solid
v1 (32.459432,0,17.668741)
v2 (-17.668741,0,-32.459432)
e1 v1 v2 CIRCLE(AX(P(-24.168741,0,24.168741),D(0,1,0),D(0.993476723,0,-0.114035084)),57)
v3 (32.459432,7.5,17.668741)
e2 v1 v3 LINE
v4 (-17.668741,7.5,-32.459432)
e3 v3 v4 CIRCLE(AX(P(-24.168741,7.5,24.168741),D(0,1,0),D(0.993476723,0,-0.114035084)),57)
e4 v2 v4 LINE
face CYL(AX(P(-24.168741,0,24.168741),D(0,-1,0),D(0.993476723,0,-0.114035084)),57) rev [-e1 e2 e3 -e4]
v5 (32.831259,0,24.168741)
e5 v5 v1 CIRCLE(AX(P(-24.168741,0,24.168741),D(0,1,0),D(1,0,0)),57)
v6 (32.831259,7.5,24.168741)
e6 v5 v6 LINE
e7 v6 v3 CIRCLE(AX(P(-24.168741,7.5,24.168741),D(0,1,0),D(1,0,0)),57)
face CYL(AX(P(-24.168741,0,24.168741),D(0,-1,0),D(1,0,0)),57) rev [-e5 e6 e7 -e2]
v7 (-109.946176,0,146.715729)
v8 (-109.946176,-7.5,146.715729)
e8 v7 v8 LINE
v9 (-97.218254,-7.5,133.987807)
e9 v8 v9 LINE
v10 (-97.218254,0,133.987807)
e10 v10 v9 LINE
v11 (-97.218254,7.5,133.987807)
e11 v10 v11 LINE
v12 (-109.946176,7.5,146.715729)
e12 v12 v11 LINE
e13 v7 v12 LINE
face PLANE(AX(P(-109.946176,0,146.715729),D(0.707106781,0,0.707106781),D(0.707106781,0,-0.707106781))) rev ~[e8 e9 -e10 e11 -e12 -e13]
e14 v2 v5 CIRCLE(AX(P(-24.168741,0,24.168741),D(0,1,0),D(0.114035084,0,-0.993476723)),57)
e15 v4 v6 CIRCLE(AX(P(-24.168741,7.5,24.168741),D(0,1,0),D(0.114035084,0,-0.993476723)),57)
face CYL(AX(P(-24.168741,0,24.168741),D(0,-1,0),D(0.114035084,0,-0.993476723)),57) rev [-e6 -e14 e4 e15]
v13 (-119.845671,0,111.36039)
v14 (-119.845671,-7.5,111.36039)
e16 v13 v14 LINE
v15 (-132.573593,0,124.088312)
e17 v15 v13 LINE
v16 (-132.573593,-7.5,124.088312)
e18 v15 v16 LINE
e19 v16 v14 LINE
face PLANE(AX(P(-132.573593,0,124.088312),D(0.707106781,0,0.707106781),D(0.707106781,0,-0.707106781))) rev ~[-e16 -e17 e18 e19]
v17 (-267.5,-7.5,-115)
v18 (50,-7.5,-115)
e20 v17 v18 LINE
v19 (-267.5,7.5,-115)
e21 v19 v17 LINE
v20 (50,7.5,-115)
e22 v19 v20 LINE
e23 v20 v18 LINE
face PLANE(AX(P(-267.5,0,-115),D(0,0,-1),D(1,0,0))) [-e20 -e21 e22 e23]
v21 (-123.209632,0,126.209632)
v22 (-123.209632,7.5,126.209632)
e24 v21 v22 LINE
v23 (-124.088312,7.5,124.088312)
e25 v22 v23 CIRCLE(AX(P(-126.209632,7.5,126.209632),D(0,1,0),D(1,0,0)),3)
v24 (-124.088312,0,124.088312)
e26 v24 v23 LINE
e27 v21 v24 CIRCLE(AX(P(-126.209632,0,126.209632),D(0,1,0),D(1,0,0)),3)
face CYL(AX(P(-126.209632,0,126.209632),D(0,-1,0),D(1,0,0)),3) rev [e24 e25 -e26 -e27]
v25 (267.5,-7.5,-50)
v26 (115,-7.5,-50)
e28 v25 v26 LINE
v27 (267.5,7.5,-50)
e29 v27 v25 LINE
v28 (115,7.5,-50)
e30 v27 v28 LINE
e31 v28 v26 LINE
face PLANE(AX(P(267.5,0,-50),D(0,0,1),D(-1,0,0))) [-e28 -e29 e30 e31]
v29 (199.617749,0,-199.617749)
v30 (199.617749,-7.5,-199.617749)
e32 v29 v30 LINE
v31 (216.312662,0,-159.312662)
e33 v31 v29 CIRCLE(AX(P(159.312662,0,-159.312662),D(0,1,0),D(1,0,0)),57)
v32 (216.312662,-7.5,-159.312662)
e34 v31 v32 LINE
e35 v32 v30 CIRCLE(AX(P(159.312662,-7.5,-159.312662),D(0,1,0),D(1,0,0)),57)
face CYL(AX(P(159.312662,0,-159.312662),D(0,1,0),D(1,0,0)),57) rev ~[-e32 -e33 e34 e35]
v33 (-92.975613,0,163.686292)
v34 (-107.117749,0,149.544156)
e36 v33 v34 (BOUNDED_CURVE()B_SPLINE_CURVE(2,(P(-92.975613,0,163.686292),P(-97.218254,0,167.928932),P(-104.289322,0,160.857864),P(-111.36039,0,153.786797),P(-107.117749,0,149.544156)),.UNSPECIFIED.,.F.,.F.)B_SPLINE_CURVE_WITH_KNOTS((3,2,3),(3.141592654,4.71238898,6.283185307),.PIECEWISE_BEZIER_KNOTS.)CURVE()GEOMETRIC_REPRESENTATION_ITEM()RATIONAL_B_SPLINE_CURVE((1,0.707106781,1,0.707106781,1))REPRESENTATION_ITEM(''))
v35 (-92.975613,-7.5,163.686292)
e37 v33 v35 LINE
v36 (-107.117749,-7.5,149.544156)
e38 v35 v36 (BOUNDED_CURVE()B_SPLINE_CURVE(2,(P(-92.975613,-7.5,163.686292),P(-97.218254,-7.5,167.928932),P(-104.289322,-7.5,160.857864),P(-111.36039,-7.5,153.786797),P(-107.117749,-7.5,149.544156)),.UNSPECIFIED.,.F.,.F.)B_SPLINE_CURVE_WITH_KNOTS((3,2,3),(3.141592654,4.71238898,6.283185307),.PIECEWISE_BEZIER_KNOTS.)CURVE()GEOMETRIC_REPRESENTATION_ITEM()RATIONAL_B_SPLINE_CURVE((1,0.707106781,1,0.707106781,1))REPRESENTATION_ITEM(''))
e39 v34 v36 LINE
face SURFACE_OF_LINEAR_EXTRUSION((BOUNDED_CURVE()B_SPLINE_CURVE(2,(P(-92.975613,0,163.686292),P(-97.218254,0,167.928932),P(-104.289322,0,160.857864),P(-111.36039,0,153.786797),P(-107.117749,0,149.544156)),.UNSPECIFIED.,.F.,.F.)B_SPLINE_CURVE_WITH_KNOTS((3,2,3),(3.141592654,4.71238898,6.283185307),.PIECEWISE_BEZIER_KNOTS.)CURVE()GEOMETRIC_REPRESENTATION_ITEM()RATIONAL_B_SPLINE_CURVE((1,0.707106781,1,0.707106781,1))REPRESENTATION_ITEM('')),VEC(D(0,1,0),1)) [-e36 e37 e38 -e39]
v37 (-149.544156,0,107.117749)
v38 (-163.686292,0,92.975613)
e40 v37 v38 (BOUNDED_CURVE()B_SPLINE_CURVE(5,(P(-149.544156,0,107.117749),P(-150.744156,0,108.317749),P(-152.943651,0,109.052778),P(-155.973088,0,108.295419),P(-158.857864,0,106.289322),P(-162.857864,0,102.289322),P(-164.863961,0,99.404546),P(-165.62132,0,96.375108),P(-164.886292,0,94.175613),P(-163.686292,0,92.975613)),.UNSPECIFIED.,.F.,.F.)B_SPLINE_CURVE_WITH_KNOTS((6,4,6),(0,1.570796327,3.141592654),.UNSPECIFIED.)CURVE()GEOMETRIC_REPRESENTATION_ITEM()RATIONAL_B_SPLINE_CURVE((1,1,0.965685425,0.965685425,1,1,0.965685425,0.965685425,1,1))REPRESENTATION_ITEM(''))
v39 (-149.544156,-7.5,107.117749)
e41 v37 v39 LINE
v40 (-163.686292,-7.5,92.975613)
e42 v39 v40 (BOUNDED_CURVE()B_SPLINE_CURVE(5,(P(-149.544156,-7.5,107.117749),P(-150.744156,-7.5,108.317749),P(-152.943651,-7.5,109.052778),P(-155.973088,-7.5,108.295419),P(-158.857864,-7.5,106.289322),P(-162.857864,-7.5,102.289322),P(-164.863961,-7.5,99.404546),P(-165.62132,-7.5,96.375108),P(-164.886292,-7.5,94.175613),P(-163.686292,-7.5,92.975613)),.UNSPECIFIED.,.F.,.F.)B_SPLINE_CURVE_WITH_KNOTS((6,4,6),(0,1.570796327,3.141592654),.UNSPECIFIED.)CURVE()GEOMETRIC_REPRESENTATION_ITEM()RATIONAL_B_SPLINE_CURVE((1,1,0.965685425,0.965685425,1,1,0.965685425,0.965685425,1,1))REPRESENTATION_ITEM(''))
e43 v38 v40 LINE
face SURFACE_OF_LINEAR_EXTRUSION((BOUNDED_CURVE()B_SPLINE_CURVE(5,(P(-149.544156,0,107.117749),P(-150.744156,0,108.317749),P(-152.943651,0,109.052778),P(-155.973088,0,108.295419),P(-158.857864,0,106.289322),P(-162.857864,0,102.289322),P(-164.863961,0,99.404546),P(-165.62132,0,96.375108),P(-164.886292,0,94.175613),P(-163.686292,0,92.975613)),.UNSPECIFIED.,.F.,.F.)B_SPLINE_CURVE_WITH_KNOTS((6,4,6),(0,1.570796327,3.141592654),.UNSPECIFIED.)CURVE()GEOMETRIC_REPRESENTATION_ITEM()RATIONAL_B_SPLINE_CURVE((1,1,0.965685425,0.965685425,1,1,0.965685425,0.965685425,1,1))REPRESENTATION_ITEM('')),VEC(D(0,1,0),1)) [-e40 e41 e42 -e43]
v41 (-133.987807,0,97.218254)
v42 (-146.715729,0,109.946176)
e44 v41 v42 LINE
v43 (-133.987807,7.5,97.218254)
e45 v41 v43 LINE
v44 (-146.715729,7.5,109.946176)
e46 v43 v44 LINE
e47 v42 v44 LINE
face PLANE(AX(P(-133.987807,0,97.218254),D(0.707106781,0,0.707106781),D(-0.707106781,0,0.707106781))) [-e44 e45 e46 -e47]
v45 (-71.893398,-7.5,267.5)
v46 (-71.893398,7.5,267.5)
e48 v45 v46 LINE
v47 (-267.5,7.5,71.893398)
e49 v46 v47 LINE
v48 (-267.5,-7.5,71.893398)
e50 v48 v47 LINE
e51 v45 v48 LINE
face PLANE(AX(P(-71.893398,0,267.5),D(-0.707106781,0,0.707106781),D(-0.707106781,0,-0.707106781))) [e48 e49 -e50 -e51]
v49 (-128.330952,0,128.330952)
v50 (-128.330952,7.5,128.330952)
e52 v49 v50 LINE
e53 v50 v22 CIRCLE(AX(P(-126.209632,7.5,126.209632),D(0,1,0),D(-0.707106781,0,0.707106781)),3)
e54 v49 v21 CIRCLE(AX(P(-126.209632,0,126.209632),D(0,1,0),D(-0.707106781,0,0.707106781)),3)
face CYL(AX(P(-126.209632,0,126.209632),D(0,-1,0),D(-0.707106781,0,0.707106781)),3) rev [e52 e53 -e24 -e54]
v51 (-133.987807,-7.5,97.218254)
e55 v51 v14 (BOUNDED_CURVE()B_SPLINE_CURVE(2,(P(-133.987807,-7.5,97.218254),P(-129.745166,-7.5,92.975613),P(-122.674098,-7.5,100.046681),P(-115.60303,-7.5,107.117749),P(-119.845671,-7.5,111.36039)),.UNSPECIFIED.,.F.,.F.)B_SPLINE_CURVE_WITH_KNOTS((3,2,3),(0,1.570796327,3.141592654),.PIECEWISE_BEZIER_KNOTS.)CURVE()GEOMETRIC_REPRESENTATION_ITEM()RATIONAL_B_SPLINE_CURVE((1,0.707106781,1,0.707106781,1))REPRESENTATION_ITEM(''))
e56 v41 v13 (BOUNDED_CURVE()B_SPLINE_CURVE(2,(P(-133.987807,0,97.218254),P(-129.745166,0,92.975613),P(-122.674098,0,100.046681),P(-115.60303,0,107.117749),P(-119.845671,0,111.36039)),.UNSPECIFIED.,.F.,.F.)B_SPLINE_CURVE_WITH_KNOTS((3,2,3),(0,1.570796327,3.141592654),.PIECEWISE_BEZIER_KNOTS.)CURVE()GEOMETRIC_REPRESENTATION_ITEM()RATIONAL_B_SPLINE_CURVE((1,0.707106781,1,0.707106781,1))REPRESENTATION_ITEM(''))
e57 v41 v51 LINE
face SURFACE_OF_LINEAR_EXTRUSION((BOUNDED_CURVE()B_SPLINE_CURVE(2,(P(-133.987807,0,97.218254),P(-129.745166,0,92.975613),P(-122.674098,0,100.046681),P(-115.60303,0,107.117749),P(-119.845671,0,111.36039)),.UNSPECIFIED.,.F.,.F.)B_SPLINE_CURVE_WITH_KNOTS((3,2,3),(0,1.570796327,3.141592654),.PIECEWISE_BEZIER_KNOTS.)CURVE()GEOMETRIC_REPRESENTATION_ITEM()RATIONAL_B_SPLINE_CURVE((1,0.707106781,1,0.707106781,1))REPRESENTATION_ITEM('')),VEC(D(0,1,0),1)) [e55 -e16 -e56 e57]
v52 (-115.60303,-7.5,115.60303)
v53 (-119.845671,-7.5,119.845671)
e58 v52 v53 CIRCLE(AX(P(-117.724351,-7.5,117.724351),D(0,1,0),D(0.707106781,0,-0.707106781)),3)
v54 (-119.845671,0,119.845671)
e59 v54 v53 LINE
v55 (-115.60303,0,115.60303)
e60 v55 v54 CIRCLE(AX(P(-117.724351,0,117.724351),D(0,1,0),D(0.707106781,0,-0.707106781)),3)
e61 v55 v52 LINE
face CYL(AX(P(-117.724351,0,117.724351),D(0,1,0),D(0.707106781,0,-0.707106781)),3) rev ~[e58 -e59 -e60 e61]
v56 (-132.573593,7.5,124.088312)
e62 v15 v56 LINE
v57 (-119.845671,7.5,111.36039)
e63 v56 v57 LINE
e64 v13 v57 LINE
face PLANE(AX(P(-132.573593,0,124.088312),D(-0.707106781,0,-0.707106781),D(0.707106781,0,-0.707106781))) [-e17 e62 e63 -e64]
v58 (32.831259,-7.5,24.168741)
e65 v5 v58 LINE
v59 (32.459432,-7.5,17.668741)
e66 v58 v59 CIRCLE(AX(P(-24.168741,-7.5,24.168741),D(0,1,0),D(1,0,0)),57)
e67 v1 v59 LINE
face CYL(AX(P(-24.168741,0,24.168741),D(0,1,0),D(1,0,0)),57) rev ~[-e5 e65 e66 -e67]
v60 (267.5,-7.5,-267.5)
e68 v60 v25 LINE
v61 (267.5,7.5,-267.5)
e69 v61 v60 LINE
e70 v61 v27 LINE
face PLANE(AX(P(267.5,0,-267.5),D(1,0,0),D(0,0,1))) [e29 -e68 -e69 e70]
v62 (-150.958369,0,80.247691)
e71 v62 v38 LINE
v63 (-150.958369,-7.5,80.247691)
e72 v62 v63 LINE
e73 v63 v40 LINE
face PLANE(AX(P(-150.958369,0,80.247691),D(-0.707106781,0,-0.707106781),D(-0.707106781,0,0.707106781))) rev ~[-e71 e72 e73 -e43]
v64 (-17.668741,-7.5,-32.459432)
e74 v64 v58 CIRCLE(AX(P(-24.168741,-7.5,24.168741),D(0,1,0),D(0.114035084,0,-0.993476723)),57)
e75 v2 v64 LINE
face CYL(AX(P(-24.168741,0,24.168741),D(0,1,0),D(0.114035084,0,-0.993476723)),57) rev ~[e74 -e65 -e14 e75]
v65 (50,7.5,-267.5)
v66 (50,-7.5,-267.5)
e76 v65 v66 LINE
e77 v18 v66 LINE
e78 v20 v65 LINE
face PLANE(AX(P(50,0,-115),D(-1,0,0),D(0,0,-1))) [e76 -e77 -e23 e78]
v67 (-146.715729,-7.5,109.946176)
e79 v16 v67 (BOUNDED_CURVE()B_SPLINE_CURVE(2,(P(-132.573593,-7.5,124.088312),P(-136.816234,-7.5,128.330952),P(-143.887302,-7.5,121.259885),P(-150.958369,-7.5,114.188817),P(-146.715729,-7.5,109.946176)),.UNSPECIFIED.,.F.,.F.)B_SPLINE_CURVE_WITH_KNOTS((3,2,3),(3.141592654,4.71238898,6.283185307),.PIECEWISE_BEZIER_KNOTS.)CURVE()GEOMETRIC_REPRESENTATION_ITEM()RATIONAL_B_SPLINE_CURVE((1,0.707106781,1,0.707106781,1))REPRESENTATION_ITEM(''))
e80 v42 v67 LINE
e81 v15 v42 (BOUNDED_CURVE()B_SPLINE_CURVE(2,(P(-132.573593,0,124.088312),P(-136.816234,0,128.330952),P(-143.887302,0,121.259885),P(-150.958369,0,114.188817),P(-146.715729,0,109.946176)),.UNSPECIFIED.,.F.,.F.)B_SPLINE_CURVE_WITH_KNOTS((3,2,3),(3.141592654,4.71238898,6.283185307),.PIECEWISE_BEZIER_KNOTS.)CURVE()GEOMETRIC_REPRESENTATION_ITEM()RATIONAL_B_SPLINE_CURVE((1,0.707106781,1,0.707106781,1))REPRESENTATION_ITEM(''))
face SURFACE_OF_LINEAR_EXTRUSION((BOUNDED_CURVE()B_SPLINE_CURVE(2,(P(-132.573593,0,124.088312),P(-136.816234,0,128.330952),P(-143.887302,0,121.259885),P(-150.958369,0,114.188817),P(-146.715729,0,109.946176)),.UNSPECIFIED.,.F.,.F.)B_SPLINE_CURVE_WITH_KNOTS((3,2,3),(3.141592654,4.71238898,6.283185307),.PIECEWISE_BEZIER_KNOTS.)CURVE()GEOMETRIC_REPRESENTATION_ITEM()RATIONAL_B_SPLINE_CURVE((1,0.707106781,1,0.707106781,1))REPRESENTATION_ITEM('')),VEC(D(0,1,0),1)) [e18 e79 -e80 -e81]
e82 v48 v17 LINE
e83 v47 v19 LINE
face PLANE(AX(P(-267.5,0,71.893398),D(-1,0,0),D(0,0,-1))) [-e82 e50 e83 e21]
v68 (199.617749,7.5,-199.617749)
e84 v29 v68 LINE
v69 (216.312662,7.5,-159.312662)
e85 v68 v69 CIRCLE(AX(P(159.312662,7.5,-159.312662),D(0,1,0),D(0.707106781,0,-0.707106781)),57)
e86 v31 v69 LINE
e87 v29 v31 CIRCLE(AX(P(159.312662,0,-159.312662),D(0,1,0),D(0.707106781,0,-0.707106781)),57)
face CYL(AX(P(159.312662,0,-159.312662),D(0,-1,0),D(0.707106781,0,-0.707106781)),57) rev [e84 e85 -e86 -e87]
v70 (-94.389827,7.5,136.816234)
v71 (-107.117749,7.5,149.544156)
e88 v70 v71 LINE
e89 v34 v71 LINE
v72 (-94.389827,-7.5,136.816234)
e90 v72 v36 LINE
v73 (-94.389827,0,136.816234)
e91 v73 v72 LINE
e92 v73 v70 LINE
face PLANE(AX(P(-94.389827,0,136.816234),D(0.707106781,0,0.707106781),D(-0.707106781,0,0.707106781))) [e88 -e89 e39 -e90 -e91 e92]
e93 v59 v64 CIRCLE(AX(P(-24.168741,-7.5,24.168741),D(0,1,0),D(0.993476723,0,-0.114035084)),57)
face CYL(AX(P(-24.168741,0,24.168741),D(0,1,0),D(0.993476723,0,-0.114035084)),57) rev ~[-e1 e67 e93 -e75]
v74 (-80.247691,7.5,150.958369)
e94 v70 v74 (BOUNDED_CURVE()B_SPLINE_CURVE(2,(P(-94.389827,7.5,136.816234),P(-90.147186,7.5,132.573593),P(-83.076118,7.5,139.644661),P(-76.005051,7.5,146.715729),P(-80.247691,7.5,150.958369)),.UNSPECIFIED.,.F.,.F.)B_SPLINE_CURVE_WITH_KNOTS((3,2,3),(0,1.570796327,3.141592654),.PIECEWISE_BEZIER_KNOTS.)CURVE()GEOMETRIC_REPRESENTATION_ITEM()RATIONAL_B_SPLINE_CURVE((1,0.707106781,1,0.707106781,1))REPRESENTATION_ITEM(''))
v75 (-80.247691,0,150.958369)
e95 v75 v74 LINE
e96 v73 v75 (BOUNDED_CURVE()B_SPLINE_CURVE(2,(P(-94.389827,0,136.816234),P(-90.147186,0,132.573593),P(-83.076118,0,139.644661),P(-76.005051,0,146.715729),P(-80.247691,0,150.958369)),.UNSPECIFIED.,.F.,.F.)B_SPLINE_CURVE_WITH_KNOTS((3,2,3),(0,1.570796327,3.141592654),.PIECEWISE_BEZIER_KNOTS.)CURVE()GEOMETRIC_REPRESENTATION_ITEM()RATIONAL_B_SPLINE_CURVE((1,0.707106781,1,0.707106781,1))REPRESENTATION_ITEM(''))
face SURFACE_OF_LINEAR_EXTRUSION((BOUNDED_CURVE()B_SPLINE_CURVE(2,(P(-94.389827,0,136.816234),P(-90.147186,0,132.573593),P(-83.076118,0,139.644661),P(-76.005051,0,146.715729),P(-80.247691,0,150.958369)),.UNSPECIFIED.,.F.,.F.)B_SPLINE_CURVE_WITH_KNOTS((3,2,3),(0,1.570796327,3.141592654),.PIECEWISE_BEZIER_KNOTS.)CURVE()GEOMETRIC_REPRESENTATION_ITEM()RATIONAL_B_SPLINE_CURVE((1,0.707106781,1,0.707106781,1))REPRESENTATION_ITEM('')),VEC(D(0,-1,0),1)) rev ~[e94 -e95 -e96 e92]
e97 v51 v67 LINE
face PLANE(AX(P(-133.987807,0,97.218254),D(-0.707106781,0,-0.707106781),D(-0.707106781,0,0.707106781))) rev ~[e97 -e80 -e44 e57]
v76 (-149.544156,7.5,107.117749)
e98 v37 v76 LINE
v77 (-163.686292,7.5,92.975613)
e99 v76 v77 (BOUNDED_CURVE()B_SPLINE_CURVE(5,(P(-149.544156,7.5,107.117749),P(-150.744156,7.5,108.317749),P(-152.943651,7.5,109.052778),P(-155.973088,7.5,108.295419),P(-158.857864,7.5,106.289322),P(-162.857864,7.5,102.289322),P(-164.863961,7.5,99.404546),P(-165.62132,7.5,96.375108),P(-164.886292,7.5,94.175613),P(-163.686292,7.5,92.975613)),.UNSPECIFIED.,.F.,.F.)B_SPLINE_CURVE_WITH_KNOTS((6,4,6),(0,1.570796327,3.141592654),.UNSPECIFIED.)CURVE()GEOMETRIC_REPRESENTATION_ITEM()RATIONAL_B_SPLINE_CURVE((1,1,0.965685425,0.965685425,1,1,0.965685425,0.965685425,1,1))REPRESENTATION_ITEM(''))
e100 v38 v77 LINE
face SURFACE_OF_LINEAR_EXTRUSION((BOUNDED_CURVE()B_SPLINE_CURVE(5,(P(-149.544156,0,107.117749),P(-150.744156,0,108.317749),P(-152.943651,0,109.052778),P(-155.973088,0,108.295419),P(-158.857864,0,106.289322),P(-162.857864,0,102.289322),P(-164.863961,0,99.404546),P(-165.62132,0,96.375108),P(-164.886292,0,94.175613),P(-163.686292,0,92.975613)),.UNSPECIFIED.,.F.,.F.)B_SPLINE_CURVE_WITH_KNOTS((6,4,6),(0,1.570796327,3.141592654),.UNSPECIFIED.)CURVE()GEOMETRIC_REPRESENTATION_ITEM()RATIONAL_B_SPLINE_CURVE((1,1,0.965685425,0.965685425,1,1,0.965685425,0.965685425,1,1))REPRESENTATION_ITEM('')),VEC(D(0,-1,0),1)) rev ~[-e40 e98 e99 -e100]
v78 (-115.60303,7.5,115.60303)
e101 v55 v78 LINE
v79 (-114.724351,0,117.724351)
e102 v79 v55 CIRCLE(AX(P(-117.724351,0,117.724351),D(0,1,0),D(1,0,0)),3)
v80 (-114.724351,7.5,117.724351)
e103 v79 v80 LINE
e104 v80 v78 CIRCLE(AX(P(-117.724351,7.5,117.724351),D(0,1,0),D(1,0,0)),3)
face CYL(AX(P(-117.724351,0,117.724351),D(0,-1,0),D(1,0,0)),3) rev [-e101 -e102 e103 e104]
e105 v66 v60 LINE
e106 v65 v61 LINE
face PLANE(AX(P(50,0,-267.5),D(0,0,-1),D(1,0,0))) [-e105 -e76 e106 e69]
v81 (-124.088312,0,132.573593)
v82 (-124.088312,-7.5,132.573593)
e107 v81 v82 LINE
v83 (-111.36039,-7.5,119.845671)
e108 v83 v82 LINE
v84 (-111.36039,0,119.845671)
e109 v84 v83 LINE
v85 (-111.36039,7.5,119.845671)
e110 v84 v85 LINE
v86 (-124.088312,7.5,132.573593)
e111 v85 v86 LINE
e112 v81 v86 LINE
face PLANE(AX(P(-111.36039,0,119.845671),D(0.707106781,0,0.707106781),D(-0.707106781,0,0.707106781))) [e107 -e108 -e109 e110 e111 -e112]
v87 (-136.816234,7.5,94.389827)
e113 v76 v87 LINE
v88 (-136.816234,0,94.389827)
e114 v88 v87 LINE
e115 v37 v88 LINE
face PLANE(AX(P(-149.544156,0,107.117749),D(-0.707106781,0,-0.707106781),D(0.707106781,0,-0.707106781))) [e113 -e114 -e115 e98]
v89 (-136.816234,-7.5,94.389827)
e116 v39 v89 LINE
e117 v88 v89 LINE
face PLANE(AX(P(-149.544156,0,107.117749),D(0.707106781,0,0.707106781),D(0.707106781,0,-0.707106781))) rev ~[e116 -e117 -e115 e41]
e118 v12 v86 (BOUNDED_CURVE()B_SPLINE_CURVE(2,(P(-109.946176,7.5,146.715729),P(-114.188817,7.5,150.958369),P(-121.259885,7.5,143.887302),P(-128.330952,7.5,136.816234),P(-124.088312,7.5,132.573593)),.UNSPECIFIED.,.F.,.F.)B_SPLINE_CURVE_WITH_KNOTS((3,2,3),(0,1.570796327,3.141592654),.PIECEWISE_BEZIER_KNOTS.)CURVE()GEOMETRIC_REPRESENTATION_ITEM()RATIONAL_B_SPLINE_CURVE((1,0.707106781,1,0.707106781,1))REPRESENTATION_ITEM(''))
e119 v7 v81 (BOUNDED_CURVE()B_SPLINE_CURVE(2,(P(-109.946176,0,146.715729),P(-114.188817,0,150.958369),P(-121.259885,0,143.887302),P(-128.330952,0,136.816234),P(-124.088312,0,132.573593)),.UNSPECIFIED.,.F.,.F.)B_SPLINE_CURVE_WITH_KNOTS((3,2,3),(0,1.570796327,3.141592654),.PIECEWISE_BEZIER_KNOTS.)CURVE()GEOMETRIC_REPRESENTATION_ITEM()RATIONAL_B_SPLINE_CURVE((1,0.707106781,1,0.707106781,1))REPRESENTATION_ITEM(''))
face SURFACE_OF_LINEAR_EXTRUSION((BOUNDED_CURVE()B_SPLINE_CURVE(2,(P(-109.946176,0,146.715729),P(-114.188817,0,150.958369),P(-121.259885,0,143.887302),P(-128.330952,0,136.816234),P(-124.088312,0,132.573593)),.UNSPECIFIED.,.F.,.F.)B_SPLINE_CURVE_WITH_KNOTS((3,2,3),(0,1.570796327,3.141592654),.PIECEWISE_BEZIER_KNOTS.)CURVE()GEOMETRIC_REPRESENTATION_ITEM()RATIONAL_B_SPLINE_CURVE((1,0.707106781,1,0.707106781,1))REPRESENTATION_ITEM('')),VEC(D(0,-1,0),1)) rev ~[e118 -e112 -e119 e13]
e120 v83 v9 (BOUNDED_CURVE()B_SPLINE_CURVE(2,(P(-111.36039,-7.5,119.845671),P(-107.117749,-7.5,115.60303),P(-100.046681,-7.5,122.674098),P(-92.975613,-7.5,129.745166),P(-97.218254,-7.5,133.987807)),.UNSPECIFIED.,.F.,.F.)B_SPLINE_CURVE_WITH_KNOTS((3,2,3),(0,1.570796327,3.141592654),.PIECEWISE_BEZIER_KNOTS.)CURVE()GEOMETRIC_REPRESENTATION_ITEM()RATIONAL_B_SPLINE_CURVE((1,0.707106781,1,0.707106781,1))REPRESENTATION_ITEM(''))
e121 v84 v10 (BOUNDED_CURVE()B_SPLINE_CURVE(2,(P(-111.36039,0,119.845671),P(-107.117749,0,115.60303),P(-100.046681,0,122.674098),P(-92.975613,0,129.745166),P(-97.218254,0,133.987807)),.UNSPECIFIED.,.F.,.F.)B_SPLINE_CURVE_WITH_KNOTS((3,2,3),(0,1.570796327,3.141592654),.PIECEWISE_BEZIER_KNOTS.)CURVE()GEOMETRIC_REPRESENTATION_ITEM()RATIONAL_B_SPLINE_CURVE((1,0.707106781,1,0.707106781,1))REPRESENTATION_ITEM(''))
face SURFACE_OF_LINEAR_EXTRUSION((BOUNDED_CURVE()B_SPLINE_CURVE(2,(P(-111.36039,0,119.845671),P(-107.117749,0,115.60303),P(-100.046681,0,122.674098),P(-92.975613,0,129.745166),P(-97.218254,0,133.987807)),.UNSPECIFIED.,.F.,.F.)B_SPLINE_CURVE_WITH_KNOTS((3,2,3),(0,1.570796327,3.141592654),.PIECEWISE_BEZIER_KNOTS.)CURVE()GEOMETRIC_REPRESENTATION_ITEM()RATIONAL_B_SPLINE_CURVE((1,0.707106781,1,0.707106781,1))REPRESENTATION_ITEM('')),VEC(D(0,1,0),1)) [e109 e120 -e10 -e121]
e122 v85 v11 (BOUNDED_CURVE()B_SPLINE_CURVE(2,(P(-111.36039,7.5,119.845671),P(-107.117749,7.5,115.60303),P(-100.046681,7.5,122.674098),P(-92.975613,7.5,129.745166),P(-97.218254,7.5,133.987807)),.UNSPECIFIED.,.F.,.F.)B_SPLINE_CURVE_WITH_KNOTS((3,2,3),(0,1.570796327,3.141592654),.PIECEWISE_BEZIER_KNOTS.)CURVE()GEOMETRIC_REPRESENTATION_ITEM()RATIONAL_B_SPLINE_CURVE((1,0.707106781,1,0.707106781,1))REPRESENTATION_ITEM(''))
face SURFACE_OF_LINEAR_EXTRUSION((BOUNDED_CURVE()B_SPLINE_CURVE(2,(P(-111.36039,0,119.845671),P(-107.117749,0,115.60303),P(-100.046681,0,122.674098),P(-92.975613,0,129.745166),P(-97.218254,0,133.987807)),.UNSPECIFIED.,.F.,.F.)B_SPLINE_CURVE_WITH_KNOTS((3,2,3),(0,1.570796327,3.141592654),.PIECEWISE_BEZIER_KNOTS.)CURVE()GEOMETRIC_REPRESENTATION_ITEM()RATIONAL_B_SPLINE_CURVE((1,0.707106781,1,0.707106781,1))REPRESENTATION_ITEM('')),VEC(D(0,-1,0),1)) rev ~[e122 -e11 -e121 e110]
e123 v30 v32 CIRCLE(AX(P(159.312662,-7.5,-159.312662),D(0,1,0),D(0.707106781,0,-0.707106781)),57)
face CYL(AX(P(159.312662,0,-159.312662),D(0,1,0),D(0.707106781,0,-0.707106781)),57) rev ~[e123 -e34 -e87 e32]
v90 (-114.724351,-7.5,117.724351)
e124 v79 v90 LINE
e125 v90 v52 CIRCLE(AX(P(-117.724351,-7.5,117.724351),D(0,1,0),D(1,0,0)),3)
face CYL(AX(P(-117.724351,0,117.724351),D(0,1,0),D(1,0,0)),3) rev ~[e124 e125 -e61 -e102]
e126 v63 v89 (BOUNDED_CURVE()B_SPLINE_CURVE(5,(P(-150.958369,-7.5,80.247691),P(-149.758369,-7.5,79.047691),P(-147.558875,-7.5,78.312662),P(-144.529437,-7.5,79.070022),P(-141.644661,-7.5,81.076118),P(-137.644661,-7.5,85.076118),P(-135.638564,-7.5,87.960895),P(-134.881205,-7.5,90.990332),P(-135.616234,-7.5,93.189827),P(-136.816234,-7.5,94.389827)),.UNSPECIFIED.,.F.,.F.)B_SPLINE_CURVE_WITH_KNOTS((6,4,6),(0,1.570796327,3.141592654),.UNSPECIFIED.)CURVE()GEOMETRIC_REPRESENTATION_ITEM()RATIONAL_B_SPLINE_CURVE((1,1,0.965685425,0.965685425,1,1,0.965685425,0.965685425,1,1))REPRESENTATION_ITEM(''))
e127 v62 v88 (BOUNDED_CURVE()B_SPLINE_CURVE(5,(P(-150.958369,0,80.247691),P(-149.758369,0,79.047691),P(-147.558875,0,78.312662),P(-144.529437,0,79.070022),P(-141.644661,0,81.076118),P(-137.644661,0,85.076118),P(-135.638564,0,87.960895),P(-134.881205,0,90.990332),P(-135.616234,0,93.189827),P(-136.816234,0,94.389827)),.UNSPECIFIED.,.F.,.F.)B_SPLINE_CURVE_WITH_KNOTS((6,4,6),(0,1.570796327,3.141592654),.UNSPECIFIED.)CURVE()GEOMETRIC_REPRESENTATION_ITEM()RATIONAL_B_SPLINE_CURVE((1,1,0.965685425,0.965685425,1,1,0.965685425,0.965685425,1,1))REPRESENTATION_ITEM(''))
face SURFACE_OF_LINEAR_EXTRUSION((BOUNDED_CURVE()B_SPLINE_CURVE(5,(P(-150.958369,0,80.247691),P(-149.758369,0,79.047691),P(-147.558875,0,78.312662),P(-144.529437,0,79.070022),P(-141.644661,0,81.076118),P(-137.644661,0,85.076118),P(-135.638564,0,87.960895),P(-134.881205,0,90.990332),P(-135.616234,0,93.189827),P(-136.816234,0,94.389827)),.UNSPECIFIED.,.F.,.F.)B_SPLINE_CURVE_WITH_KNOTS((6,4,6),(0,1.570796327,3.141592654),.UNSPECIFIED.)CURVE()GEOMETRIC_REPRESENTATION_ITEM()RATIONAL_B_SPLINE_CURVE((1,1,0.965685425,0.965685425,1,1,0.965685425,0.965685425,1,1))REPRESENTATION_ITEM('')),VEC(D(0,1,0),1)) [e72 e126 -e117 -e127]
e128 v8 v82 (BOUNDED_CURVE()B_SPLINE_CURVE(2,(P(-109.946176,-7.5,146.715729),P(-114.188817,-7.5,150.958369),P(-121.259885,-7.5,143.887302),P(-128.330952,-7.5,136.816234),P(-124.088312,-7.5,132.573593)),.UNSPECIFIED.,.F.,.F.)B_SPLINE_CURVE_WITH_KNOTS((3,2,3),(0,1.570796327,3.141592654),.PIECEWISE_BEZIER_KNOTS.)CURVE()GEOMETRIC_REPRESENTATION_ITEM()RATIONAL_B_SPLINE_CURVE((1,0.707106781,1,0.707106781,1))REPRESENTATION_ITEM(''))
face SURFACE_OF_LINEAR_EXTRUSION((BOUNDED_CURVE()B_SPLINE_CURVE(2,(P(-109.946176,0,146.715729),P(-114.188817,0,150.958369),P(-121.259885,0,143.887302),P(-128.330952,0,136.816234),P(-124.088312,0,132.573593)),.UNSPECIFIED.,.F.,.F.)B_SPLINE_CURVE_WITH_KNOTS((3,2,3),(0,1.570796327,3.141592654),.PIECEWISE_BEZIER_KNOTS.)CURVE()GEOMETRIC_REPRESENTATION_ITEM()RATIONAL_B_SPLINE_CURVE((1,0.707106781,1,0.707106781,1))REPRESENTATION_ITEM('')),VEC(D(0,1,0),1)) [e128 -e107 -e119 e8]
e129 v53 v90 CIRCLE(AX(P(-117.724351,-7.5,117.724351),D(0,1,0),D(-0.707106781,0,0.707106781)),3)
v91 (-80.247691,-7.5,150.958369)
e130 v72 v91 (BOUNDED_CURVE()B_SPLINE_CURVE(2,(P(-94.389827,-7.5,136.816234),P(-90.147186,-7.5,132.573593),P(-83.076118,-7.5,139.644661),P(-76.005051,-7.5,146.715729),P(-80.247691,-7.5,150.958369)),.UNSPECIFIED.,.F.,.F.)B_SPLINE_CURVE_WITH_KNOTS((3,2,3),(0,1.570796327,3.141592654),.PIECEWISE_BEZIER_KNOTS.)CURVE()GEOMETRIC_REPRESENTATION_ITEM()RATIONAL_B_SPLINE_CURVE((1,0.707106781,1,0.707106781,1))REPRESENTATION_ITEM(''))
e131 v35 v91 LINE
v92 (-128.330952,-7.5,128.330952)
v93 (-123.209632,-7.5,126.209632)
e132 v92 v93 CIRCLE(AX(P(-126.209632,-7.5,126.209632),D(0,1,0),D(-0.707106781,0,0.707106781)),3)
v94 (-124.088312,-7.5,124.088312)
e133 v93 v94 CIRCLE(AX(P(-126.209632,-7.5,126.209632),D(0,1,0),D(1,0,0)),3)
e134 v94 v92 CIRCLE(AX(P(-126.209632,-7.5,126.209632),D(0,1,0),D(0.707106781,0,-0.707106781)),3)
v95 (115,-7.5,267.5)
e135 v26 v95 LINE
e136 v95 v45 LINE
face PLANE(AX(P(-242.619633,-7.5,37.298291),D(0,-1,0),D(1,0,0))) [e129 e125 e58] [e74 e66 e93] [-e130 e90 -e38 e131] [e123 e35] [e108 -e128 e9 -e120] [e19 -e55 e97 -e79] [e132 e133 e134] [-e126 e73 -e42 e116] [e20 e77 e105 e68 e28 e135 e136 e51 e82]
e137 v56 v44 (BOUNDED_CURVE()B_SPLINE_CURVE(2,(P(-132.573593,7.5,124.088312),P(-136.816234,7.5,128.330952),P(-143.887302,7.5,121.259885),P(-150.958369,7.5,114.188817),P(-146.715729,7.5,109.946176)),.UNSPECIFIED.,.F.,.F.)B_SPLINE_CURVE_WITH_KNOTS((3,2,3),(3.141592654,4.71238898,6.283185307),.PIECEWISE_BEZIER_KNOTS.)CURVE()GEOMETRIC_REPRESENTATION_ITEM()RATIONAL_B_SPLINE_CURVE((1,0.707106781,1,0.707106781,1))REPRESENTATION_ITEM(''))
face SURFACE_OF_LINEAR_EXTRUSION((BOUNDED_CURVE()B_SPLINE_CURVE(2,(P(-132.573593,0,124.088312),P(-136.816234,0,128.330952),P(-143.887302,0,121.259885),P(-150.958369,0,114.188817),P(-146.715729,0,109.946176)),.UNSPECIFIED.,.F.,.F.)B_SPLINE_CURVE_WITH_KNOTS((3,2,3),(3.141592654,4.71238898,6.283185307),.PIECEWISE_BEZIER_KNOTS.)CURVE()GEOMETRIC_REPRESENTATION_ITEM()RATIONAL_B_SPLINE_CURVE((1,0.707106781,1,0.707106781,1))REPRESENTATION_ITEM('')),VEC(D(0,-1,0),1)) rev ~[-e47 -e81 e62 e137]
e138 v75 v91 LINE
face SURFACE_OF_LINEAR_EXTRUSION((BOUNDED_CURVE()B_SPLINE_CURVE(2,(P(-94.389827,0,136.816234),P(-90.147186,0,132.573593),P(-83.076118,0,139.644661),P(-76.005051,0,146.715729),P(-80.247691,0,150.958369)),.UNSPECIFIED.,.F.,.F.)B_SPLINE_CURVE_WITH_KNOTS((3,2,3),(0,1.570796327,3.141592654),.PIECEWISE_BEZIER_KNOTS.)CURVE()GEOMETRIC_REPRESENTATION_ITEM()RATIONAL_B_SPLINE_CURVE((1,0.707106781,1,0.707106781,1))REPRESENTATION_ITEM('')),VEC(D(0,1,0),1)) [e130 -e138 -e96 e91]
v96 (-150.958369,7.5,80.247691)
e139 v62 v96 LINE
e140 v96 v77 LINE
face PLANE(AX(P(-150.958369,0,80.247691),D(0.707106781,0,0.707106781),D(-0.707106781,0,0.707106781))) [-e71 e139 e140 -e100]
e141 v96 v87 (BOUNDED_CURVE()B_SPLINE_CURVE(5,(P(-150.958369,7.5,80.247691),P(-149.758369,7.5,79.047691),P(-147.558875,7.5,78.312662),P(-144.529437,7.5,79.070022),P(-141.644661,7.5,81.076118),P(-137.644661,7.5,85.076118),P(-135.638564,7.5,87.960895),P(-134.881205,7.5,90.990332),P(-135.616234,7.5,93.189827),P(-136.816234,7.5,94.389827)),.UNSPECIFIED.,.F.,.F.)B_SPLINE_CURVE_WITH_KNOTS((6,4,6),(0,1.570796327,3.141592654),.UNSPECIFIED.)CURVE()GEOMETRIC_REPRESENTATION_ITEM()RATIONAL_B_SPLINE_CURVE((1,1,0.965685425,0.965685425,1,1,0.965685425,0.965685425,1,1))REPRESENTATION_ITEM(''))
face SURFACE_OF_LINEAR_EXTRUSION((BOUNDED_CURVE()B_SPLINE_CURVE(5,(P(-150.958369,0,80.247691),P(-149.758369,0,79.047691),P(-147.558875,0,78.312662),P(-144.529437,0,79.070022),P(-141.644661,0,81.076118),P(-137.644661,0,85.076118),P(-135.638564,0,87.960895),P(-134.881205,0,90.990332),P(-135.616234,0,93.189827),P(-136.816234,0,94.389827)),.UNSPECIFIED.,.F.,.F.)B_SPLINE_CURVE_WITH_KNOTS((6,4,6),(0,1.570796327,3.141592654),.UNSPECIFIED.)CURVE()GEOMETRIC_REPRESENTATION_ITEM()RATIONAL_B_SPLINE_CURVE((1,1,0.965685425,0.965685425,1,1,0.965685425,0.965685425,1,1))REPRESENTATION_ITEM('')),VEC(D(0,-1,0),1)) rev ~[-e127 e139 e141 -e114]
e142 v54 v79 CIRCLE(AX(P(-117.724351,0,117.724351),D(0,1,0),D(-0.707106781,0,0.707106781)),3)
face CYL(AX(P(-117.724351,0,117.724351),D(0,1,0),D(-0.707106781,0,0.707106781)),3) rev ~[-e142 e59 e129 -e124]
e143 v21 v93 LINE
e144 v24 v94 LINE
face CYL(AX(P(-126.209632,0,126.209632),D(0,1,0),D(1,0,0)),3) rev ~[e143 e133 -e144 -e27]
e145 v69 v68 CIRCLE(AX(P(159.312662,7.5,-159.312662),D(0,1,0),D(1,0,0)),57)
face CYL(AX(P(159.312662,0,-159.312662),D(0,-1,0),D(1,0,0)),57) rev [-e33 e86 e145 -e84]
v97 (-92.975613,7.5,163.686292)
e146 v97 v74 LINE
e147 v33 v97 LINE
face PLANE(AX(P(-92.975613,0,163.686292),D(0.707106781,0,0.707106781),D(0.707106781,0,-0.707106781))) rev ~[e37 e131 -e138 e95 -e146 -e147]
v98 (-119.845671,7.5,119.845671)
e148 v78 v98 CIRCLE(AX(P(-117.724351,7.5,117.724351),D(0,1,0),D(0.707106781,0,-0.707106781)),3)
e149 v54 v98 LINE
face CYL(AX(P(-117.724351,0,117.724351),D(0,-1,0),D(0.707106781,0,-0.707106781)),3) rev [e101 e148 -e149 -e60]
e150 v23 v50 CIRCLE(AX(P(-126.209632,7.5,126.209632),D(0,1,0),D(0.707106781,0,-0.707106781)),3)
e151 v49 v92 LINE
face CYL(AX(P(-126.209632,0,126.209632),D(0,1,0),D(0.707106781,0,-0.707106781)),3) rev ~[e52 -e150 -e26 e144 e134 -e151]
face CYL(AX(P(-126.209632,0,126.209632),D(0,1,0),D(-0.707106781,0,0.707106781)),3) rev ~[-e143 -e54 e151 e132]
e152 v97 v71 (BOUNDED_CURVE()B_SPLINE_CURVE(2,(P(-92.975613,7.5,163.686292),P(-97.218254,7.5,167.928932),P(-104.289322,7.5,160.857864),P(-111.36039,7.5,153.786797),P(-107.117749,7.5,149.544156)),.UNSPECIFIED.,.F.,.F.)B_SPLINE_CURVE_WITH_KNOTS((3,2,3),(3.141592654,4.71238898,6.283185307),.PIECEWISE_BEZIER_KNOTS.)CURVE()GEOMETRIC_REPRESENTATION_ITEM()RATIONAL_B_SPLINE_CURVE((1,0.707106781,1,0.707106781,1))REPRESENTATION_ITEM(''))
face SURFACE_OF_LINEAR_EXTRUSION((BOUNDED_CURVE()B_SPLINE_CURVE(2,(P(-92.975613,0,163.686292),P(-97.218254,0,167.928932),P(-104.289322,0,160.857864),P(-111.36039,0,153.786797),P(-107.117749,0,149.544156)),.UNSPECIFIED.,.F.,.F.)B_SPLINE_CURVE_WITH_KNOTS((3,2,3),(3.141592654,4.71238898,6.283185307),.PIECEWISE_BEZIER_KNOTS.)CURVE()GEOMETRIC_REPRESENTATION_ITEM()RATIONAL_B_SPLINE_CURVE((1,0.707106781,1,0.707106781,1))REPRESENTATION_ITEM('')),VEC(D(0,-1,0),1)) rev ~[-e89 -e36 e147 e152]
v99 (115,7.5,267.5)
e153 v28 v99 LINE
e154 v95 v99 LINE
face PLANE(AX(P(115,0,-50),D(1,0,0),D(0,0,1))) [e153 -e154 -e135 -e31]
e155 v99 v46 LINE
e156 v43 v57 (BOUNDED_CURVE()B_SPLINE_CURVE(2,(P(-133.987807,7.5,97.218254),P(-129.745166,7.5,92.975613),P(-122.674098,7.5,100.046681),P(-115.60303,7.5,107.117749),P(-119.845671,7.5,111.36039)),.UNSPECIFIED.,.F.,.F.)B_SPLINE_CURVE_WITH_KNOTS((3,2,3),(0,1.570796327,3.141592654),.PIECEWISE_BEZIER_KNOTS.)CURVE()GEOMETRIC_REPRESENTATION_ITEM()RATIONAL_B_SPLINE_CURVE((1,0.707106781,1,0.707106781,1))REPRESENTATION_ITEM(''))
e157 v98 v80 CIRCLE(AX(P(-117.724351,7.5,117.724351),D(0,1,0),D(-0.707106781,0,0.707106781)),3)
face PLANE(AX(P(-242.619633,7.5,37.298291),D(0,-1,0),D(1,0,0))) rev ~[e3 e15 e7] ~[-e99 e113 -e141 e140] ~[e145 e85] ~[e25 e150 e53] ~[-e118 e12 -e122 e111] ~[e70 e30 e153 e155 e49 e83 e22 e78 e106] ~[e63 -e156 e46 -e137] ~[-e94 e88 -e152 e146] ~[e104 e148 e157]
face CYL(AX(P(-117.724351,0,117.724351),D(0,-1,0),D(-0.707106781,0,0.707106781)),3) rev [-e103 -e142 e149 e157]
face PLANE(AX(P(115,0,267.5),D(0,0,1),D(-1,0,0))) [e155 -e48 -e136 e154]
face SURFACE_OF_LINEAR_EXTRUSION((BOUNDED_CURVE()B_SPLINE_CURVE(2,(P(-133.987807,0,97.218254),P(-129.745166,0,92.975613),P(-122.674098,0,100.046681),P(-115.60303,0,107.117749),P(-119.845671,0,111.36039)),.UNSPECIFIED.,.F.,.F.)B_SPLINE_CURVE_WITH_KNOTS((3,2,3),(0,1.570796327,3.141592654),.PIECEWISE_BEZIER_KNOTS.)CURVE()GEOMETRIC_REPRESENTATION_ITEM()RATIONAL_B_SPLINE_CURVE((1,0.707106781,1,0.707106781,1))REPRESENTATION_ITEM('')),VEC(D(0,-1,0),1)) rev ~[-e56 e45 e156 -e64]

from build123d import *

# Parameters (mm, degrees)
F1_DEPTH = 7.5


with BuildPart() as f1:
    # F0 (on Front) → F1 (new body, symmetric)
    with BuildSketch(Plane.XZ):
        Polygon((-169.6966991411, 169.6966991411), (-267.5, 71.8933982822), (-267.5, -115), (-260, -115), (-260, 68.7867965644), (-164.3933982822, 164.3933982822), align=None)
        Polygon((-71.8933982822, 267.5), (-169.6966991411, 169.6966991411), (-164.3933982822, 164.3933982822), (-68.7867965644, 260), (115, 260), (115, 267.5), align=None)
        with BuildLine():
            Line((-68.7867965644, 260), (-164.3933982822, 164.3933982822))
            Line((-164.3933982822, 164.3933982822), (-128.3309524417, 128.3309524417))
            ThreePointArc((-128.3309524417, 128.3309524417), (-125.061581801, 128.9812706957), (-123.2096320981, 126.2096320981))
            ThreePointArc((-123.2096320981, 126.2096320981), (-123.4379935006, 125.061581801), (-124.0883117546, 124.0883117546))
            Line((-124.0883117546, 124.0883117546), (-119.8456710674, 119.8456710674))
            ThreePointArc((-119.8456710674, 119.8456710674), (-116.5763004268, 120.4959893214), (-114.7243507239, 117.7243507239))
            ThreePointArc((-114.7243507239, 117.7243507239), (-114.9527121264, 116.5763004268), (-115.6030303803, 115.6030303803))
            Line((-115.6030303803, 115.6030303803), (-64.4738274856, 64.4738274856))
            ThreePointArc((-64.4738274856, 64.4738274856), (-2.3557853132, 76.8298743111), (32.831259042, 24.168740958))
            ThreePointArc((32.831259042, 24.168740958), (32.738226427, 20.9134279091), (32.4594322685, 17.668741186))
            Line((32.4594322685, 17.668741186), (115, 17.668741186))
            Line((115, 17.668741186), (115, 260))
            Line((115, 260), (-68.7867965644, 260))
        make_face()
        with BuildLine():
            add(Edge.make_bspline(
                [(-111.3603896932, 119.8456710674), (-107.1177490061, 115.6030303803), (-100.0466811942, 122.6740981922), (-92.9756133824, 129.7451660041), (-97.2182540695, 133.9878066912)],
                knots=[0, 0, 0, 1.5707963268, 1.5707963268, 3.1415926536, 3.1415926536, 3.1415926536], degree=2, weights=[1, 0.7071067812, 1, 0.7071067812, 1]))
            Line((-111.3603896932, 119.8456710674), (-124.0883117546, 132.5735931288))
            add(Edge.make_bspline(
                [(-109.9461761308, 146.7157287525), (-114.188816818, 150.9583694397), (-121.2598846298, 143.8873016278), (-128.3309524417, 136.8162338159), (-124.0883117546, 132.5735931288)],
                knots=[0, 0, 0, 1.5707963268, 1.5707963268, 3.1415926536, 3.1415926536, 3.1415926536], degree=2, weights=[1, 0.7071067812, 1, 0.7071067812, 1]))
            Line((-109.9461761308, 146.7157287525), (-97.2182540695, 133.9878066912))
        make_face(mode=Mode.SUBTRACT)
        with BuildLine():
            Line((-94.3898269447, 136.8162338159), (-107.1177490061, 149.5441558773))
            add(Edge.make_bspline(
                [(-92.9756133824, 163.686291501), (-97.2182540695, 167.9289321881), (-104.2893218813, 160.8578643763), (-111.3603896932, 153.7867965644), (-107.1177490061, 149.5441558773)],
                knots=[3.1415926536, 3.1415926536, 3.1415926536, 4.7123889804, 4.7123889804, 6.2831853072, 6.2831853072, 6.2831853072], degree=2, weights=[1, 0.7071067812, 1, 0.7071067812, 1]))
            Line((-92.9756133824, 163.686291501), (-80.247691321, 150.9583694397))
            add(Edge.make_bspline(
                [(-94.3898269447, 136.8162338159), (-90.1471862576, 132.5735931288), (-83.0761184457, 139.6446609407), (-76.0050506339, 146.7157287525), (-80.247691321, 150.9583694397)],
                knots=[0, 0, 0, 1.5707963268, 1.5707963268, 3.1415926536, 3.1415926536, 3.1415926536], degree=2, weights=[1, 0.7071067812, 1, 0.7071067812, 1]))
        make_face(mode=Mode.SUBTRACT)
        with BuildLine():
            Line((-128.3309524417, 128.3309524417), (-164.3933982822, 164.3933982822))
            Line((-164.3933982822, 164.3933982822), (-260, 68.7867965644))
            Line((-260, 68.7867965644), (-260, -115))
            Line((-260, -115), (-17.668741186, -115))
            Line((-17.668741186, -115), (-17.668741186, -32.4594322685))
            ThreePointArc((-17.668741186, -32.4594322685), (-75.4981690113, -0.6161297442), (-64.4738274856, 64.4738274856))
            Line((-64.4738274856, 64.4738274856), (-115.6030303803, 115.6030303803))
            ThreePointArc((-115.6030303803, 115.6030303803), (-119.8456710674, 115.6030303803), (-119.8456710674, 119.8456710674))
            Line((-119.8456710674, 119.8456710674), (-124.0883117546, 124.0883117546))
            ThreePointArc((-124.0883117546, 124.0883117546), (-128.3309524417, 124.0883117546), (-128.3309524417, 128.3309524417))
        make_face()
        with BuildLine():
            add(Edge.make_bspline(
                [(-150.9583694397, 80.247691321), (-146.7157287525, 76.0050506339), (-139.6446609407, 83.0761184457)],
                knots=[0, 0, 0, 1.5707963268, 1.5707963268, 1.5707963268], degree=2, weights=[1, 0.7071067812, 1]))
            Line((-150.9583694397, 80.247691321), (-163.686291501, 92.9756133824))
            add(Edge.make_bspline(
                [(-160.8578643763, 104.2893218813), (-167.9289321881, 97.2182540695), (-163.686291501, 92.9756133824)],
                knots=[1.5707963268, 1.5707963268, 1.5707963268, 3.1415926536, 3.1415926536, 3.1415926536], degree=2, weights=[1, 0.7071067812, 1]))
            add(Edge.make_bspline(
                [(-149.5441558773, 107.1177490061), (-153.7867965644, 111.3603896932), (-160.8578643763, 104.2893218813)],
                knots=[0, 0, 0, 1.5707963268, 1.5707963268, 1.5707963268], degree=2, weights=[1, 0.7071067812, 1]))
            Line((-149.5441558773, 107.1177490061), (-136.8162338159, 94.3898269447))
            add(Edge.make_bspline(
                [(-139.6446609407, 83.0761184457), (-132.5735931288, 90.1471862576), (-136.8162338159, 94.3898269447)],
                knots=[1.5707963268, 1.5707963268, 1.5707963268, 3.1415926536, 3.1415926536, 3.1415926536], degree=2, weights=[1, 0.7071067812, 1]))
        make_face(mode=Mode.SUBTRACT)
        with BuildLine():
            add(Edge.make_bspline(
                [(-132.5735931288, 124.0883117546), (-136.8162338159, 128.3309524417), (-143.8873016278, 121.2598846298), (-150.9583694397, 114.188816818), (-146.7157287525, 109.9461761308)],
                knots=[3.1415926536, 3.1415926536, 3.1415926536, 4.7123889804, 4.7123889804, 6.2831853072, 6.2831853072, 6.2831853072], degree=2, weights=[1, 0.7071067812, 1, 0.7071067812, 1]))
            Line((-132.5735931288, 124.0883117546), (-119.8456710674, 111.3603896932))
            add(Edge.make_bspline(
                [(-133.9878066912, 97.2182540695), (-129.7451660041, 92.9756133824), (-122.6740981922, 100.0466811942), (-115.6030303803, 107.1177490061), (-119.8456710674, 111.3603896932)],
                knots=[0, 0, 0, 1.5707963268, 1.5707963268, 3.1415926536, 3.1415926536, 3.1415926536], degree=2, weights=[1, 0.7071067812, 1, 0.7071067812, 1]))
            Line((-133.9878066912, 97.2182540695), (-146.7157287525, 109.9461761308))
        make_face(mode=Mode.SUBTRACT)
        with BuildLine():
            Line((-17.668741186, -32.4594322685), (-17.668741186, -115))
            Line((-17.668741186, -115), (35, -115))
            Line((35, -115), (50, -115))
            Line((50, -115), (50, -130))
            Line((50, -130), (50, -260))
            Line((50, -260), (260, -260))
            Line((260, -260), (260, -50))
            Line((260, -50), (130, -50))
            Line((130, -50), (115, -50))
            Line((115, -50), (115, -35))
            Line((115, -35), (115, 17.668741186))
            Line((115, 17.668741186), (32.4594322685, 17.668741186))
            ThreePointArc((32.4594322685, 17.668741186), (16.1363455697, -16.1363455697), (-17.668741186, -32.4594322685))
        make_face()
        with BuildLine():
            ThreePointArc((216.3126624785, -159.3126624785), (211.9737958316, -181.1256181233), (199.6177490061, -199.6177490061))
            ThreePointArc((199.6177490061, -199.6177490061), (106.6515291253, -137.4997068336), (216.3126624785, -159.3126624785))
        make_face(mode=Mode.SUBTRACT)
        Polygon((260, -260), (50, -260), (50, -267.5), (267.5, -267.5), align=None)
        Polygon((260, -50), (260, -260), (267.5, -267.5), (267.5, -50), align=None)
    extrude(amount=F1_DEPTH, both=True)


solid = f1.part
